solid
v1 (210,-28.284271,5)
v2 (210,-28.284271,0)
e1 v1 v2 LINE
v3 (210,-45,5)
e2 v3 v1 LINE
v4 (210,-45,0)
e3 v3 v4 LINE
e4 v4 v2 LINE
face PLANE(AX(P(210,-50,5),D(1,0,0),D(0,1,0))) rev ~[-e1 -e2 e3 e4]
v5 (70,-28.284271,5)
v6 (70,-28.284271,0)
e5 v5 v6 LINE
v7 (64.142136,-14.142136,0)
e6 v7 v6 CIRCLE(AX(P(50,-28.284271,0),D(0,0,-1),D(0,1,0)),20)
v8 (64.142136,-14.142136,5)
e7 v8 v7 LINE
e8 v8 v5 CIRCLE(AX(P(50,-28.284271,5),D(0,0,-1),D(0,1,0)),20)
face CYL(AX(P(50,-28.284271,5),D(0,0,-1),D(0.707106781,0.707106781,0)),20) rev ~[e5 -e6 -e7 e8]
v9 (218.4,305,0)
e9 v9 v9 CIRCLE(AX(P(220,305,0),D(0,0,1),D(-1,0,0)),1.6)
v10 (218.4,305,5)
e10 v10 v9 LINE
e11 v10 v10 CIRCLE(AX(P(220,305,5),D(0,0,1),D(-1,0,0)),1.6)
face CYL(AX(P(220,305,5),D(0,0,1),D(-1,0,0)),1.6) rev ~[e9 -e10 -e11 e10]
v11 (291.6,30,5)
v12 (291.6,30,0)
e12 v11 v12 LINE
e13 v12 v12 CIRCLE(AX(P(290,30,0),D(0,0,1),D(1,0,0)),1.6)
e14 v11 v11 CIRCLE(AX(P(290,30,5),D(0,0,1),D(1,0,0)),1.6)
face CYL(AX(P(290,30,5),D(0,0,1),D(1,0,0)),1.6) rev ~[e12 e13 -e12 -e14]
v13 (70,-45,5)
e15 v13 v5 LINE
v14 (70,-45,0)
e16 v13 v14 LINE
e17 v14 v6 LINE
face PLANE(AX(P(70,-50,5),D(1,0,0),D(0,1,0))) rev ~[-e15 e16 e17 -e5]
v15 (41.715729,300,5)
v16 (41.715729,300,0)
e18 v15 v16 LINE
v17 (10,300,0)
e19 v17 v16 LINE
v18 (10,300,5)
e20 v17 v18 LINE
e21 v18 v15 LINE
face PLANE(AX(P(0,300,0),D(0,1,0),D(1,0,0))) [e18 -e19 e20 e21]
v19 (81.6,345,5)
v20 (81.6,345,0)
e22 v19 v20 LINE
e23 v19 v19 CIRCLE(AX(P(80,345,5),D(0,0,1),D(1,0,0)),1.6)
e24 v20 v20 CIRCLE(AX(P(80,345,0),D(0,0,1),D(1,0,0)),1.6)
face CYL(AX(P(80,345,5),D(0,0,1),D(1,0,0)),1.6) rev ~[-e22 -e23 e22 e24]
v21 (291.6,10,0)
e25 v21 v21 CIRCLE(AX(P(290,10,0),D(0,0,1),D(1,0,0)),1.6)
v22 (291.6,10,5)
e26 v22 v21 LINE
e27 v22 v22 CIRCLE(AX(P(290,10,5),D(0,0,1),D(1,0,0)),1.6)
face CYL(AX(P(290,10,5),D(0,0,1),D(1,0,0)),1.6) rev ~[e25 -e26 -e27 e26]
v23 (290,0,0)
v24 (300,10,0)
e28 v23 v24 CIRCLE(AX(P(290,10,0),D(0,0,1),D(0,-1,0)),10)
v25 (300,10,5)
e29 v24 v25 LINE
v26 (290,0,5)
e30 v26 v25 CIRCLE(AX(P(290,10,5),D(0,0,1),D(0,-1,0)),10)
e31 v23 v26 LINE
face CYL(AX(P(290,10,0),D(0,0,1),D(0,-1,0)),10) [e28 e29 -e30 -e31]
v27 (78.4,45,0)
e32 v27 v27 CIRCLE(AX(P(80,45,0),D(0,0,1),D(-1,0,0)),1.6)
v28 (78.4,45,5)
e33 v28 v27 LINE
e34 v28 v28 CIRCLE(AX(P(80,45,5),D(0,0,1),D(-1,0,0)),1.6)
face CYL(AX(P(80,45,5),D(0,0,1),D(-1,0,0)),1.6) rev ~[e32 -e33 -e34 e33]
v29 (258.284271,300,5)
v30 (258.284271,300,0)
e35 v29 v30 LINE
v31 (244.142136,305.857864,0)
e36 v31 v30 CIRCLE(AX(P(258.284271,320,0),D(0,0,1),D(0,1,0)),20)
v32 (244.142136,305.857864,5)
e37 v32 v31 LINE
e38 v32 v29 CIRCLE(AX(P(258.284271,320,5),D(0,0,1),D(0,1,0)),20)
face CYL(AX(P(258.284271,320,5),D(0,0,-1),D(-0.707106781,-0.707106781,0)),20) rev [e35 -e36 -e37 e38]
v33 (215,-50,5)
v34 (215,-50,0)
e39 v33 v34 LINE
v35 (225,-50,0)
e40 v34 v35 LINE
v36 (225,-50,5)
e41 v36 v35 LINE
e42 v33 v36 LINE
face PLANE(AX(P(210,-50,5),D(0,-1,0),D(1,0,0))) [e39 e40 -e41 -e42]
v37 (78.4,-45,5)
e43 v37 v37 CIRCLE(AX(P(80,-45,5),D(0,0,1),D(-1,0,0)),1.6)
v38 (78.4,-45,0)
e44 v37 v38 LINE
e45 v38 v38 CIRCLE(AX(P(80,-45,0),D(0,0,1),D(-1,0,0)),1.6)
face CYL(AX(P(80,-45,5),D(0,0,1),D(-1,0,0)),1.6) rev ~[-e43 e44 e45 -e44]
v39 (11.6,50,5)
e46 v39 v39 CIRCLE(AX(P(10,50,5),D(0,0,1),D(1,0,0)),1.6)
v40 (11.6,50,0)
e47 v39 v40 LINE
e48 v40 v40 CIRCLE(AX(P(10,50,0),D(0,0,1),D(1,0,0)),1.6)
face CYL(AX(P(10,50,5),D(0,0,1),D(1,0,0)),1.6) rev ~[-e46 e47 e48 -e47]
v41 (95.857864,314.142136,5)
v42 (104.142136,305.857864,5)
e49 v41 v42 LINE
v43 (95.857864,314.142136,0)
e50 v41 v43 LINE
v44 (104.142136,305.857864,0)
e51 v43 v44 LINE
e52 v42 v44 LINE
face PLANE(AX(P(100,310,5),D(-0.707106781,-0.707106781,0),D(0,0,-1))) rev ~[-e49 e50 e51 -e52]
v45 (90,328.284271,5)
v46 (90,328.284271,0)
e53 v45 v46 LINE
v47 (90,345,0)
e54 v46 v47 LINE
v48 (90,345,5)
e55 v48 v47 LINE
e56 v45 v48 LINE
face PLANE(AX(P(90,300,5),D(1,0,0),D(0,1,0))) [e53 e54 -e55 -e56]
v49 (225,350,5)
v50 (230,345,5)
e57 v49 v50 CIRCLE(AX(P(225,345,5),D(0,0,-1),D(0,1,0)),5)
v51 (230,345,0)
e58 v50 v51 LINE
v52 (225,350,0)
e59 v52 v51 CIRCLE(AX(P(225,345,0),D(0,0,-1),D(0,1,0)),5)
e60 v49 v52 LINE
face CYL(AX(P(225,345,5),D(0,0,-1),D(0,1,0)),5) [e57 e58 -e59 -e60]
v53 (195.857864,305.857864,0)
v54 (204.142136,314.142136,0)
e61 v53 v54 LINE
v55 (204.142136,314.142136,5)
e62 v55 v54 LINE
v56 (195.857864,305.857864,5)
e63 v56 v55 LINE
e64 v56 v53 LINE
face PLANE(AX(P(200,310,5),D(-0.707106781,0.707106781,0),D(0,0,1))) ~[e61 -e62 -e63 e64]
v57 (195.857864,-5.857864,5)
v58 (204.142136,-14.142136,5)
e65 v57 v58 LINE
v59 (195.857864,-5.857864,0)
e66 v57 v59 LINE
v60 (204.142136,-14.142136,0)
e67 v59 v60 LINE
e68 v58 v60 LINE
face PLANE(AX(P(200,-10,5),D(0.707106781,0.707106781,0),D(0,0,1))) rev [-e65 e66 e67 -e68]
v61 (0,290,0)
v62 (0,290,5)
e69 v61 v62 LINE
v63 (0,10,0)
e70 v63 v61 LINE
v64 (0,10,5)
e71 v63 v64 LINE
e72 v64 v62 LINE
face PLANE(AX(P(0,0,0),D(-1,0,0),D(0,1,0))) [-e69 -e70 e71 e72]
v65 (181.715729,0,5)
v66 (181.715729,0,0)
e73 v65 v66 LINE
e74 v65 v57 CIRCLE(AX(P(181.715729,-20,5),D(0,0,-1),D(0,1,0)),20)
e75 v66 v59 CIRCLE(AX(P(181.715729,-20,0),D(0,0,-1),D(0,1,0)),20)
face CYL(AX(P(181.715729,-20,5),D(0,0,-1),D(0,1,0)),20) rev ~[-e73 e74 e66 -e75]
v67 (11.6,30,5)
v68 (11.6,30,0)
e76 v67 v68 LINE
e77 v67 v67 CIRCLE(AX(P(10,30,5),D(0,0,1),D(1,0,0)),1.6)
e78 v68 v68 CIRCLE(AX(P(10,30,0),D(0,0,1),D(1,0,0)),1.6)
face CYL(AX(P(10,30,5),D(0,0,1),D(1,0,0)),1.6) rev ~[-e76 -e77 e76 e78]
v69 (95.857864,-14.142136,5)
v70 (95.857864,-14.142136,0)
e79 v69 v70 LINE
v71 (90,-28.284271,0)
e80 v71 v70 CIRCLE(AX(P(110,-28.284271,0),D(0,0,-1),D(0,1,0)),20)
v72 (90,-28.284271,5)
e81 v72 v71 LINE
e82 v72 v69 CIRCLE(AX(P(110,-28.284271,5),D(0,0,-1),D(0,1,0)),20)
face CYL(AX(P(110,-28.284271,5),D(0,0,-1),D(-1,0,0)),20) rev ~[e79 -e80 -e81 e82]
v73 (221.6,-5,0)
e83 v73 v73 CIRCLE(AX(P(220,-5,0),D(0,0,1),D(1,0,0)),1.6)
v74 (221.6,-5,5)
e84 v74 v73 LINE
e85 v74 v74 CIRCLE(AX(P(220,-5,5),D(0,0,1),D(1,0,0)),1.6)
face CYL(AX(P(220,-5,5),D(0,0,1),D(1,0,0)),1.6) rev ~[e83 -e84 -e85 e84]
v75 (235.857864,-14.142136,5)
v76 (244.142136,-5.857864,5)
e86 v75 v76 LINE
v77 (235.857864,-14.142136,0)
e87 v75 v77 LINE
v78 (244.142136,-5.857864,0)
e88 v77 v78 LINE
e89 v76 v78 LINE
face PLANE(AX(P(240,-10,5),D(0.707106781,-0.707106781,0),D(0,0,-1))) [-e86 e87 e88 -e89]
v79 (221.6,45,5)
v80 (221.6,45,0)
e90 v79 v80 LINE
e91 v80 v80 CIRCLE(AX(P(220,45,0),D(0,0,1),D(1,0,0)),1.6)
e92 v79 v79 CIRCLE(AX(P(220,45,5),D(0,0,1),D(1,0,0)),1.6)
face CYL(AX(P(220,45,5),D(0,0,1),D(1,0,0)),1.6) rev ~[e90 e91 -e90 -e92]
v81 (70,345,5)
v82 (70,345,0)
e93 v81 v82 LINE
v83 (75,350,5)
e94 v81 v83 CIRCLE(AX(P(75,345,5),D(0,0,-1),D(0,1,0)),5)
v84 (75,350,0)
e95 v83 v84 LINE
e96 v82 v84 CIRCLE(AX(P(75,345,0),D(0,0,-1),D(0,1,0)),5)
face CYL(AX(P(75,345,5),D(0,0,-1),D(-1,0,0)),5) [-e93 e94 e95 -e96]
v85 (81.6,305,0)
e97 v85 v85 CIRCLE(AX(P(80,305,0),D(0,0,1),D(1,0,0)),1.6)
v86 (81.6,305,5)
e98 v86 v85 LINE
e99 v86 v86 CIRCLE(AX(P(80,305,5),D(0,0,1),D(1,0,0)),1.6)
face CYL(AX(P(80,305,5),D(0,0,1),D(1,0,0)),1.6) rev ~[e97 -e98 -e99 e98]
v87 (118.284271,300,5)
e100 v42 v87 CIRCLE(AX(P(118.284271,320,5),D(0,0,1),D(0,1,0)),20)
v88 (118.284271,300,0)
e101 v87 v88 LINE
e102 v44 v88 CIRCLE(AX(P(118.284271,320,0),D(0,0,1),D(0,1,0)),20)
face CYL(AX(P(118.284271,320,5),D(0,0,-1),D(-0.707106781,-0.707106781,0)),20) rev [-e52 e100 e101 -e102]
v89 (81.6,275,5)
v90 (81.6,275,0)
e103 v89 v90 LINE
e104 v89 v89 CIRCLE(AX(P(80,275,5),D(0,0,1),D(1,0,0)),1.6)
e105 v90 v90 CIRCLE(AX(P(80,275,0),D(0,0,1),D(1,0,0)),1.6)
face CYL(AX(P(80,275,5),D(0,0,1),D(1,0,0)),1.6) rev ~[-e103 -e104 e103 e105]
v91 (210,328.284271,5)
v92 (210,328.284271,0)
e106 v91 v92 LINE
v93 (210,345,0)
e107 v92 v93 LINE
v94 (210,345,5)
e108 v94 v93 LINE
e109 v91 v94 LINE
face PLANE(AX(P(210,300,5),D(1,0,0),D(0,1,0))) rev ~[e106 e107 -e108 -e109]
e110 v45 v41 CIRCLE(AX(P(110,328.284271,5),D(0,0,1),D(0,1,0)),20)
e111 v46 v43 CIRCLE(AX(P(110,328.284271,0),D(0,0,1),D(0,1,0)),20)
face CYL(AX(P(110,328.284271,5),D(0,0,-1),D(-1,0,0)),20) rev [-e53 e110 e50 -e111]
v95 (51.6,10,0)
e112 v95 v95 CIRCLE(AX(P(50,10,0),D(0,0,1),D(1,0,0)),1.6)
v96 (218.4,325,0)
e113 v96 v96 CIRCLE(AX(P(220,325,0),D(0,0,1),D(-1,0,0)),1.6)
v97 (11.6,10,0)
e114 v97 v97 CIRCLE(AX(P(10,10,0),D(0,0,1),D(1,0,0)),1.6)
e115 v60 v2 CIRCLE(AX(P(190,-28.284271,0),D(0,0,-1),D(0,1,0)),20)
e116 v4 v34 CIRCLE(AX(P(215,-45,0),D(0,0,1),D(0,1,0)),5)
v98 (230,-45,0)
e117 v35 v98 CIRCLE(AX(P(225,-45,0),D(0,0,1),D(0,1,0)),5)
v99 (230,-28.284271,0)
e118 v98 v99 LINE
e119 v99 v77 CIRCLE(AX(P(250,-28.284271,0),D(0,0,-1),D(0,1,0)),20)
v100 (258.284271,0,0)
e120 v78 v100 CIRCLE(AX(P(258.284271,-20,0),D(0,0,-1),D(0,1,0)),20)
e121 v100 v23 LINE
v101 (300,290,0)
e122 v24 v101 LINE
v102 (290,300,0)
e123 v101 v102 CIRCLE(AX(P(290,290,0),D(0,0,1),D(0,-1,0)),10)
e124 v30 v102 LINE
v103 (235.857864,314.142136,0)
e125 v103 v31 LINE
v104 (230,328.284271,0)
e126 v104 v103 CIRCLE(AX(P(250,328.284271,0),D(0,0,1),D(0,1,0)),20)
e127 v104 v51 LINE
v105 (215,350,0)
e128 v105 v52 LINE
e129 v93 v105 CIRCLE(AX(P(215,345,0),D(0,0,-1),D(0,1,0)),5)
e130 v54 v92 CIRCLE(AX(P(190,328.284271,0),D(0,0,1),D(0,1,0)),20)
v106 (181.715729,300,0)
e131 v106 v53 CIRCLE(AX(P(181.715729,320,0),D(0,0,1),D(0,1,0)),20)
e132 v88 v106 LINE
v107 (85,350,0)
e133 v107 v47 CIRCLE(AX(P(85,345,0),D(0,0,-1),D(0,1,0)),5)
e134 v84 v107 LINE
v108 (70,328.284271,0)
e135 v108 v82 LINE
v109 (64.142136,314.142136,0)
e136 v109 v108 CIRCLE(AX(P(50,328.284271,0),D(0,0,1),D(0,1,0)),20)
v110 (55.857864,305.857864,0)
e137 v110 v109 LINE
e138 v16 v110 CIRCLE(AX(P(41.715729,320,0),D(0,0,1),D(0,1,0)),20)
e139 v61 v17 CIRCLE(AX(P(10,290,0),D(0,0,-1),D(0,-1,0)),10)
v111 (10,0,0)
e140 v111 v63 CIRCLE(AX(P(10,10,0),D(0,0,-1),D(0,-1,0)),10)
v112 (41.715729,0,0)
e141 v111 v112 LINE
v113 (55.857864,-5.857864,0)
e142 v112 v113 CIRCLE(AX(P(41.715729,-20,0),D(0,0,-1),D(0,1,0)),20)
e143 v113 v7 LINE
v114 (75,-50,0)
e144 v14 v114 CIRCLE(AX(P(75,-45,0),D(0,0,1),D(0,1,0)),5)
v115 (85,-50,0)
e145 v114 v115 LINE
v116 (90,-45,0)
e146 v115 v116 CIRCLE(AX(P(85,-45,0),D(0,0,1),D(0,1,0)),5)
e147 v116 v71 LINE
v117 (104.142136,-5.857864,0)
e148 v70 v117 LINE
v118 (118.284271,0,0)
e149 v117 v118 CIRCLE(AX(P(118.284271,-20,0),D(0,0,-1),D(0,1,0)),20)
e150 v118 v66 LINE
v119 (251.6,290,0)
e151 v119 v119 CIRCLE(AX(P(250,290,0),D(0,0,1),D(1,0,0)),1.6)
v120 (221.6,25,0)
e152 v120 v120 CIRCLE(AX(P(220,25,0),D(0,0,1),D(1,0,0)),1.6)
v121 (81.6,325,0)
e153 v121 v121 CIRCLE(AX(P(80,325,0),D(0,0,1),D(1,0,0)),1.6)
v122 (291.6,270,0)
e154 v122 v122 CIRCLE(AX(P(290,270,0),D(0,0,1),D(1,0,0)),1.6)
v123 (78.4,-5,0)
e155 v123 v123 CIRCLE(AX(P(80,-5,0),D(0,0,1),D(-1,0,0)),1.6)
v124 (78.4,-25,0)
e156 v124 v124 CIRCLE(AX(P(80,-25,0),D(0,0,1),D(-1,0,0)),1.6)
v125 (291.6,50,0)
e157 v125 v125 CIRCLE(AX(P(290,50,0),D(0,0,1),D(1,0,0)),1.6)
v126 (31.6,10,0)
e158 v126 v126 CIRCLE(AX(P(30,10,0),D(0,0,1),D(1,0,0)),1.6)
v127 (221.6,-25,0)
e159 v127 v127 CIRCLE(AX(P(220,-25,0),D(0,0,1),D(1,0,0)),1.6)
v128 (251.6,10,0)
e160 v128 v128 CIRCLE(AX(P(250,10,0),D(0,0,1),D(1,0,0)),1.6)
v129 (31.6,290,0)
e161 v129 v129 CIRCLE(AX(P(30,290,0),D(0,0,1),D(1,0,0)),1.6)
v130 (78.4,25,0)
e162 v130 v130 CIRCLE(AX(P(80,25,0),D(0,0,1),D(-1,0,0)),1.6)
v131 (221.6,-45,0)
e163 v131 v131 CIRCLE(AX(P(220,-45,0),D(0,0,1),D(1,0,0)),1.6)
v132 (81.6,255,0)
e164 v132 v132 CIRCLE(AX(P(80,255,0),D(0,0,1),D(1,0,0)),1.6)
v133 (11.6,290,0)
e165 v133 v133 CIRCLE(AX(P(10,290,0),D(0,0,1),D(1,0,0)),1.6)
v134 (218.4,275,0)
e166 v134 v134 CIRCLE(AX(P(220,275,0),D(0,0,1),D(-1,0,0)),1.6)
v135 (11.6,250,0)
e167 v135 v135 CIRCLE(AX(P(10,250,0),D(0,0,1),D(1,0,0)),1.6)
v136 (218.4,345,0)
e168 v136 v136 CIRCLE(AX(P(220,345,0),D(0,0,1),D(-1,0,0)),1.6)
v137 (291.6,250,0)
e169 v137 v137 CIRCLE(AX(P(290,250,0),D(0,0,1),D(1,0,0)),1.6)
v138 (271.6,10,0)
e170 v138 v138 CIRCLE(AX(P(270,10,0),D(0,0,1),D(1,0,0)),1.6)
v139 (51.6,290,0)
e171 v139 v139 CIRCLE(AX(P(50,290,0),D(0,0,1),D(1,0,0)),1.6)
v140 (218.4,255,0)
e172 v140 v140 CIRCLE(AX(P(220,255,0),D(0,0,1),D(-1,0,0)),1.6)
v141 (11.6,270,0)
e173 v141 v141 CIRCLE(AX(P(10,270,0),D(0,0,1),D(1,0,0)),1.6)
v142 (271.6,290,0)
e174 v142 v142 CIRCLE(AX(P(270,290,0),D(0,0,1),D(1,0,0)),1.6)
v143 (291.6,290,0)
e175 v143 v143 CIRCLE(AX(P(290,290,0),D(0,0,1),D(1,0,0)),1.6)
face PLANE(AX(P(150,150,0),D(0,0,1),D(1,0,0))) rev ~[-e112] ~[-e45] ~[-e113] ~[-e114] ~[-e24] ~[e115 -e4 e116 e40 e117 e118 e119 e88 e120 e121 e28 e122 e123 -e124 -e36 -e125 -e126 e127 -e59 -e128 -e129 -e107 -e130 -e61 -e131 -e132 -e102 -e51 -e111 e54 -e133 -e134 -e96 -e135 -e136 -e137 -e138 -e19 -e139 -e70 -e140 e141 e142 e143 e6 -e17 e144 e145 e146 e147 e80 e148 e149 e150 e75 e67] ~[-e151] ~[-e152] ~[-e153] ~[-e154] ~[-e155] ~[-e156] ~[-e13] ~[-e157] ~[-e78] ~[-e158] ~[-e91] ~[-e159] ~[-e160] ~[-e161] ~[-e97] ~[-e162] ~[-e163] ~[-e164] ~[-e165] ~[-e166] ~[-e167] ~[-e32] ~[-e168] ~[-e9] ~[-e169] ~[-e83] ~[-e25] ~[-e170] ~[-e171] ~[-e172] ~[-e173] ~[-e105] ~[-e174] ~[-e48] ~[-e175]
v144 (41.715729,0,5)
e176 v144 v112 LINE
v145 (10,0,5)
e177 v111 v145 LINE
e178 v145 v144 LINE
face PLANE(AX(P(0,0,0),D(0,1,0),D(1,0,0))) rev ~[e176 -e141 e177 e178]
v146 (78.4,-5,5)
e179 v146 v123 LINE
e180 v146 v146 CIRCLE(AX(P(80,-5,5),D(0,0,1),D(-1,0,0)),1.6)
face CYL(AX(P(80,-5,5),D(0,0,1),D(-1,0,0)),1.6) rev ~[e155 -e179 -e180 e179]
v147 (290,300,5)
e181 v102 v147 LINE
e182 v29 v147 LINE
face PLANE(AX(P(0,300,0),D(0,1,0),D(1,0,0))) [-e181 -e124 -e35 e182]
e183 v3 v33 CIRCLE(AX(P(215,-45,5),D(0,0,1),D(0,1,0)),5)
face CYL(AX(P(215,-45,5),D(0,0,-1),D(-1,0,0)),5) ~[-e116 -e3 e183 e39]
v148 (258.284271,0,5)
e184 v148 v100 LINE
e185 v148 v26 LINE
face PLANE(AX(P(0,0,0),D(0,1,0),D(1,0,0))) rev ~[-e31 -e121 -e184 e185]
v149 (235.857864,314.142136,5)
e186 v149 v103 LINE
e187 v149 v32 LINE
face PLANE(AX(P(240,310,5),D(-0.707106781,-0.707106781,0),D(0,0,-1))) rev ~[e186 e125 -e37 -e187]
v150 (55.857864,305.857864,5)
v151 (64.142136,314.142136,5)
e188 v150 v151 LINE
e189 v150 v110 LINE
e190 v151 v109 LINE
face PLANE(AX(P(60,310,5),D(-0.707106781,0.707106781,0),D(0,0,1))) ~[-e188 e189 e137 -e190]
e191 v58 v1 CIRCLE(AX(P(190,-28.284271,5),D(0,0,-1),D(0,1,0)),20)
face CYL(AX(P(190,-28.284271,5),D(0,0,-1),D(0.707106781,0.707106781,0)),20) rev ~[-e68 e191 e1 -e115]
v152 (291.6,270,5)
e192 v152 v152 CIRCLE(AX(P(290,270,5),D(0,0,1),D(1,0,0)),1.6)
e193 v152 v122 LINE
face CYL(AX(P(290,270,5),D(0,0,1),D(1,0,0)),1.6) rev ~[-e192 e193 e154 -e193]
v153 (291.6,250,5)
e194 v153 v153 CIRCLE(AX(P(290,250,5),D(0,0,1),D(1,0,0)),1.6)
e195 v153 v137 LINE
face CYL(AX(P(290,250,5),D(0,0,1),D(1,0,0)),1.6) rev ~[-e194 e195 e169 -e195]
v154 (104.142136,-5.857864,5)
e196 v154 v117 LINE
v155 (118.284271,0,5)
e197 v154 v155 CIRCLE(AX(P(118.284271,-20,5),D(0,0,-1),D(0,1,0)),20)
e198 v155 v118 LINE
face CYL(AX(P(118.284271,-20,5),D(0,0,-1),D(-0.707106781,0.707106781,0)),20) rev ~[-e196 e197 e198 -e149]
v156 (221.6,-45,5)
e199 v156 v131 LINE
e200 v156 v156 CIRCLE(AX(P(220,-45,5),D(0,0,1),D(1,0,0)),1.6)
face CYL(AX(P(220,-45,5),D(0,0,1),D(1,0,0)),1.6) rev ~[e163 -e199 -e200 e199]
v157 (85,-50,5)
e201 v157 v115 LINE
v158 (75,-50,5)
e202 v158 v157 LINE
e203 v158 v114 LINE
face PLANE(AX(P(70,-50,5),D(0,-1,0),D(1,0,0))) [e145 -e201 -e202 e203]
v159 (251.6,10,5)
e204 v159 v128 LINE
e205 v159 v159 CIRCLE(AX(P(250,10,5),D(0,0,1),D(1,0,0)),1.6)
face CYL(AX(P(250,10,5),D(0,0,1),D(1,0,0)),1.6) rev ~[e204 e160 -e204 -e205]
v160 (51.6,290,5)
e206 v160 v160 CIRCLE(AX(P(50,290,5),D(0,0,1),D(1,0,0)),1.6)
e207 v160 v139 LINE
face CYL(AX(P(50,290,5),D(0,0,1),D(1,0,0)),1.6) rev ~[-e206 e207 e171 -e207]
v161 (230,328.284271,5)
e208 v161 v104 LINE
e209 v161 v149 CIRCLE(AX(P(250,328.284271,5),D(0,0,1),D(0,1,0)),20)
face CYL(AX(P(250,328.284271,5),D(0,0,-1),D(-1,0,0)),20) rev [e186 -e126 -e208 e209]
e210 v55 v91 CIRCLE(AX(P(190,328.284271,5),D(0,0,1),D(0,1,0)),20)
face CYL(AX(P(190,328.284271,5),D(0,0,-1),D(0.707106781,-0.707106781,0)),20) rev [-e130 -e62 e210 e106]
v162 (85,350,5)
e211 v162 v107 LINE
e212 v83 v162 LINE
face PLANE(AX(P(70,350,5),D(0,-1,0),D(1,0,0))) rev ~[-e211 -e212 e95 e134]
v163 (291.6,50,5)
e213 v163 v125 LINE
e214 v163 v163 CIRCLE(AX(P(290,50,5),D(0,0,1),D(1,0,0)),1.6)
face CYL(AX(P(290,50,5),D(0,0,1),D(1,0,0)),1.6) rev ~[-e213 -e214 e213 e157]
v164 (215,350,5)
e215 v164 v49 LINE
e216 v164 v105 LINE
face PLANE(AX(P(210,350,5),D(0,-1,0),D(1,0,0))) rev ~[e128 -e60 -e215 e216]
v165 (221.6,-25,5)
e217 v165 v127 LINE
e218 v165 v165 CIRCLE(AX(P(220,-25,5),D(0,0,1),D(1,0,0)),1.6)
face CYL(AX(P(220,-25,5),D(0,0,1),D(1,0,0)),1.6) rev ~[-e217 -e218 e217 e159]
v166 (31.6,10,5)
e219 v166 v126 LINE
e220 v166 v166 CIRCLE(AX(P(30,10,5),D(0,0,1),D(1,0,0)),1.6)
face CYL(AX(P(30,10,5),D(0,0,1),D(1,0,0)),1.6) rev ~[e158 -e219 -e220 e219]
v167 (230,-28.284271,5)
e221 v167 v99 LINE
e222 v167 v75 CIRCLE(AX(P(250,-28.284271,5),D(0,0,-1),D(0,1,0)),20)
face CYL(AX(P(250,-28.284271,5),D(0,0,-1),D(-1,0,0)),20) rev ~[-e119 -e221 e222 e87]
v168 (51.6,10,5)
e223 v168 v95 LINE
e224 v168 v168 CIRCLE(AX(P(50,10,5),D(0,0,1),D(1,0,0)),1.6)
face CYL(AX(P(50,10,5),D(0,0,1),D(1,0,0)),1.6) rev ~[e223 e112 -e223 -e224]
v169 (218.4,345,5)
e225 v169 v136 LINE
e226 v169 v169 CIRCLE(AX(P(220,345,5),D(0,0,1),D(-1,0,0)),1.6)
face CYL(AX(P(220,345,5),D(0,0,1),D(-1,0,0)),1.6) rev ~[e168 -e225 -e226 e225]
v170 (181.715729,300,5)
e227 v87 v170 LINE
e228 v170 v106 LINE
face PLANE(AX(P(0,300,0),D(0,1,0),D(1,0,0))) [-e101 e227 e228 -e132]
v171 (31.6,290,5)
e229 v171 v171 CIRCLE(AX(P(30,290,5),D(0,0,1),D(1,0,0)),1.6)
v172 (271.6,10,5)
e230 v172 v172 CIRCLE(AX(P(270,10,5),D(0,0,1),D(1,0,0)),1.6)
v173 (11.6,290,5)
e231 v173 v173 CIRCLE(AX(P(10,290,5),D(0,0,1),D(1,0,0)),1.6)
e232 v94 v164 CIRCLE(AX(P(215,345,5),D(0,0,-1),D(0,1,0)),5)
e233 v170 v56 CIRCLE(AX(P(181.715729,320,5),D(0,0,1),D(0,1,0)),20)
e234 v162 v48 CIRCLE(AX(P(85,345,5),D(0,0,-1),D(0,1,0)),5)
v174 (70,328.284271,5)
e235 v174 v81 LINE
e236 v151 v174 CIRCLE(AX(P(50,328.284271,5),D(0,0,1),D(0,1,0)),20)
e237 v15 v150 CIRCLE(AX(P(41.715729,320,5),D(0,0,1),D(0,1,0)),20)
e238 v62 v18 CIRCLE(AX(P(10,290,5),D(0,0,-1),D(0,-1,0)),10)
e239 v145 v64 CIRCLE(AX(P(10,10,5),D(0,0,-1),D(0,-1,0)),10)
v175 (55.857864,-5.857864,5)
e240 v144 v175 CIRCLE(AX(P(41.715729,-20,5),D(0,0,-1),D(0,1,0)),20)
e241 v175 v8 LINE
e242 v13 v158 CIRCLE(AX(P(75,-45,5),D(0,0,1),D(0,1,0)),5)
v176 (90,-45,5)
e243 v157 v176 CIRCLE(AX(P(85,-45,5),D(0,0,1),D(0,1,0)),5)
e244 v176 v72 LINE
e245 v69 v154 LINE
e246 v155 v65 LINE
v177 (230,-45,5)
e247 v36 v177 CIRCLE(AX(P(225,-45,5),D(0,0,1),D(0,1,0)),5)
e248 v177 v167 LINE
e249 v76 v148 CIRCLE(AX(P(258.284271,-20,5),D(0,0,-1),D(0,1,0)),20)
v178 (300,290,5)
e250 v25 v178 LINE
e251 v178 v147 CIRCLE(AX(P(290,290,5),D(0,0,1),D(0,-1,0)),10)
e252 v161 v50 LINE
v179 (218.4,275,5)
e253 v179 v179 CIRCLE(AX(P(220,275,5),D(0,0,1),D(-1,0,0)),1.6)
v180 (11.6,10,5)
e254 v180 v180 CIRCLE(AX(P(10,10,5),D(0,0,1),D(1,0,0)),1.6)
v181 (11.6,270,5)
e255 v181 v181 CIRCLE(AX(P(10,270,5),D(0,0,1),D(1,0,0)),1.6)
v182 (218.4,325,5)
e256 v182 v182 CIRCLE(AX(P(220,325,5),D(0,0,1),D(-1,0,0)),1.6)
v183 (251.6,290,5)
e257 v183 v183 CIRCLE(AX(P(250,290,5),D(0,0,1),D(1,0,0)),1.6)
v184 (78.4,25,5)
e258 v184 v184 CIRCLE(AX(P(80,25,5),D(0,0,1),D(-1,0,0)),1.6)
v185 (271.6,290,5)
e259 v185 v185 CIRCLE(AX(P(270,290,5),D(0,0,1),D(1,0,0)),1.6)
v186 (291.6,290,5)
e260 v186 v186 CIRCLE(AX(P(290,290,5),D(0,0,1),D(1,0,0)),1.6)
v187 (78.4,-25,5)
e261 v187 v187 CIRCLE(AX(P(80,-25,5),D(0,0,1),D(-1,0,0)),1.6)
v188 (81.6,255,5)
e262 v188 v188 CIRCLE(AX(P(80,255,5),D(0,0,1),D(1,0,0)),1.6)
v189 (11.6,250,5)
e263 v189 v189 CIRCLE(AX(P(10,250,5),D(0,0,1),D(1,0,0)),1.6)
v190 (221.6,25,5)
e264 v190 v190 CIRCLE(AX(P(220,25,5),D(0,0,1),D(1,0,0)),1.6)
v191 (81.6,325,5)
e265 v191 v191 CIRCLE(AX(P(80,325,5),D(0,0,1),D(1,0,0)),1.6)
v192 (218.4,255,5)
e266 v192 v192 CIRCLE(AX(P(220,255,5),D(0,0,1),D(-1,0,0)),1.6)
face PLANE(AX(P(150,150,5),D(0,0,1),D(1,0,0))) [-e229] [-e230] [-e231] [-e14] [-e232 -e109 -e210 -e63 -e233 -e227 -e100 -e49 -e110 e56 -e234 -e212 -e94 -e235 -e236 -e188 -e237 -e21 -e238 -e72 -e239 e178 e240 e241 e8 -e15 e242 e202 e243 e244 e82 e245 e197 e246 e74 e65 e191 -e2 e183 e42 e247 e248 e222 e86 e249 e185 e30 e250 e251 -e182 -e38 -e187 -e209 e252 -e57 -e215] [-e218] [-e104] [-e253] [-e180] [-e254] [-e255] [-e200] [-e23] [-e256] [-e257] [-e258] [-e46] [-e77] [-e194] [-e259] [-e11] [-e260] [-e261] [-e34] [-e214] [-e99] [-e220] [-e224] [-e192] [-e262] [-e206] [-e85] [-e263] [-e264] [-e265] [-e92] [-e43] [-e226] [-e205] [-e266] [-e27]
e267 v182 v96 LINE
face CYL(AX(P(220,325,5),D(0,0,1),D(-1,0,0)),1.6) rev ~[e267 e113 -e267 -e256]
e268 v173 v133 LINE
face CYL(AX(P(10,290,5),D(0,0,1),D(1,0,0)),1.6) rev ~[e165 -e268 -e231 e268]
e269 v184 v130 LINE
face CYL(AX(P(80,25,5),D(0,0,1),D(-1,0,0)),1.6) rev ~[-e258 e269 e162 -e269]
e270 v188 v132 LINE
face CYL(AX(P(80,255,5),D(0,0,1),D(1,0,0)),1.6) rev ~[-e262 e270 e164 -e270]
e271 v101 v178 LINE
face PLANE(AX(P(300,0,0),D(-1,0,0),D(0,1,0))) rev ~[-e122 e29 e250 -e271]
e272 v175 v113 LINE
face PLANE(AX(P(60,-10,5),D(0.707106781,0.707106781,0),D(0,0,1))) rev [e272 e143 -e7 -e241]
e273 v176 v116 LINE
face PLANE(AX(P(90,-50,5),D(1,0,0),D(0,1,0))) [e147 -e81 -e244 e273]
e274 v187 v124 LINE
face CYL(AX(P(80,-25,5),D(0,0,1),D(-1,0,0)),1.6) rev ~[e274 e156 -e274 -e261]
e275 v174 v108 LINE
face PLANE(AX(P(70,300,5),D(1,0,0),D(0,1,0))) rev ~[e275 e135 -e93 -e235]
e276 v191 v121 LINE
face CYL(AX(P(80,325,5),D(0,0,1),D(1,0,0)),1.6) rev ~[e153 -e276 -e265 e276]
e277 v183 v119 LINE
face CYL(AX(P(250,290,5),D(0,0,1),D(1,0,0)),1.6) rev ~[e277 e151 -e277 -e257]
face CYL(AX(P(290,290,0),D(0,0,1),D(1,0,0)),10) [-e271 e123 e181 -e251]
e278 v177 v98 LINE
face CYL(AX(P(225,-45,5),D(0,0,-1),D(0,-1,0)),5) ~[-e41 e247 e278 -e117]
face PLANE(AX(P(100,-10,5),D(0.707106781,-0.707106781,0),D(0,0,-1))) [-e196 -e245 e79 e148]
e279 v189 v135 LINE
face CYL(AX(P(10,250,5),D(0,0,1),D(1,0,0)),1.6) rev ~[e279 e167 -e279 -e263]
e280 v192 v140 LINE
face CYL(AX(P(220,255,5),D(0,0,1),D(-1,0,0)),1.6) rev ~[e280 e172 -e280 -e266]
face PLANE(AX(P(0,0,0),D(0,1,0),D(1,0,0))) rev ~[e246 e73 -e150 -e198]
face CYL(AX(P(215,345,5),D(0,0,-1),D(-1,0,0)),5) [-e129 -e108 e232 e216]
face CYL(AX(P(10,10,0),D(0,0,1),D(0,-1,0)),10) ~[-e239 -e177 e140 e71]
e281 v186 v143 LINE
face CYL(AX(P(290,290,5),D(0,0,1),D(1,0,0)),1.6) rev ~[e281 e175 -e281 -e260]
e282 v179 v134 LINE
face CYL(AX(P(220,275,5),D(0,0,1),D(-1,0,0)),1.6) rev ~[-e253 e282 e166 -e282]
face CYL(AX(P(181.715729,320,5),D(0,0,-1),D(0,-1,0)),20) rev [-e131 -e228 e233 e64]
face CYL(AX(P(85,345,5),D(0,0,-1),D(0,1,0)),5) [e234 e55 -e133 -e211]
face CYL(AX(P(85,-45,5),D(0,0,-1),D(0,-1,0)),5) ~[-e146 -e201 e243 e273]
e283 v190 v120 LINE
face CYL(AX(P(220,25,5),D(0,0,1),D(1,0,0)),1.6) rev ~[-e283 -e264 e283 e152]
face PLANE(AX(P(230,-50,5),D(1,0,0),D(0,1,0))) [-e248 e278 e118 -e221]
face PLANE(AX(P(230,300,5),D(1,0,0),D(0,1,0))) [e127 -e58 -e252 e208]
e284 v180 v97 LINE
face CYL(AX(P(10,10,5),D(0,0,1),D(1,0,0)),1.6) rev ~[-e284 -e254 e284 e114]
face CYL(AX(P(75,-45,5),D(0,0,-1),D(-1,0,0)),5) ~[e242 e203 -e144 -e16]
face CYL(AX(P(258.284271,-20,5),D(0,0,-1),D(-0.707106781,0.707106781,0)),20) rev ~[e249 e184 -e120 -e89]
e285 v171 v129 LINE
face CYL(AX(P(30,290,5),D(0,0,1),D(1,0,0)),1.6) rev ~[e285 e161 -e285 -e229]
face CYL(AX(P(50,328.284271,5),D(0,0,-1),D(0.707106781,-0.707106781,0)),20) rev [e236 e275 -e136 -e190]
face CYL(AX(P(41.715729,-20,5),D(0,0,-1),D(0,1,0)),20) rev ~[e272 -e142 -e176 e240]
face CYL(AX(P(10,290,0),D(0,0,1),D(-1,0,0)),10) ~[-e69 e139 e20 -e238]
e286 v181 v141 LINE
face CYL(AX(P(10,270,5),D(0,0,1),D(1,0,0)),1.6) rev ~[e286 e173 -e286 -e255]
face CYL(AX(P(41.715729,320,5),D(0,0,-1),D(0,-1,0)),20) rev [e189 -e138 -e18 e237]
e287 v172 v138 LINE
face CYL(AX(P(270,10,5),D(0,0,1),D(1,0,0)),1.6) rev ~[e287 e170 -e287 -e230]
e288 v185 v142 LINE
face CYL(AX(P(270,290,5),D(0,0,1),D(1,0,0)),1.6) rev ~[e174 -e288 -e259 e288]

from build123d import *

# Parameters (mm, degrees)
SKETCH_1_W          = 300
SKETCH_1_H          = 300
EXTRUDE_1_DEPTH     = 5
SKETCH_2_R          = 1.6
CUT_EXTRUDE_1_DEPTH = 5
SKETCH_3_W          = 20
SKETCH_3_H          = 50
EXTRUDE_2_DEPTH     = 5
SKETCH_5_R          = 1.6
CUT_EXTRUDE_2_DEPTH = 462.004338374
CHAMFER_1_SIZE      = 20
FILLET_1_R          = 20
FILLET_2_R          = 5
FILLET_3_R          = 10


with BuildPart() as part:
    # 草图1 → 凸台-拉伸1 (new body)
    with BuildSketch(Plane.XY):
        with Locations((150, 150)):
            Rectangle(SKETCH_1_W, SKETCH_1_H)
    extrude(amount=EXTRUDE_1_DEPTH)

    # 草图2 → 切除-拉伸1 (cut)
    with BuildSketch(Plane.XY.offset(5)):
        with Locations((10, 10)):
            Circle(SKETCH_2_R)
        with Locations((290, 10)):
            Circle(SKETCH_2_R)
        with Locations((290, 290)):
            Circle(SKETCH_2_R)
        with Locations((10, 290)):
            Circle(SKETCH_2_R)
        with Locations((10, 270)):
            Circle(SKETCH_2_R)
        with Locations((10, 250)):
            Circle(SKETCH_2_R)
        with Locations((10, 30)):
            Circle(SKETCH_2_R)
        with Locations((10, 50)):
            Circle(SKETCH_2_R)
        with Locations((30, 290)):
            Circle(SKETCH_2_R)
        with Locations((50, 290)):
            Circle(SKETCH_2_R)
        with Locations((270, 290)):
            Circle(SKETCH_2_R)
        with Locations((250, 290)):
            Circle(SKETCH_2_R)
        with Locations((290, 270)):
            Circle(SKETCH_2_R)
        with Locations((290, 250)):
            Circle(SKETCH_2_R)
        with Locations((290, 30)):
            Circle(SKETCH_2_R)
        with Locations((290, 50)):
            Circle(SKETCH_2_R)
        with Locations((270, 10)):
            Circle(SKETCH_2_R)
        with Locations((250, 10)):
            Circle(SKETCH_2_R)
        with Locations((30, 10)):
            Circle(SKETCH_2_R)
        with Locations((50, 10)):
            Circle(SKETCH_2_R)
    extrude(amount=-CUT_EXTRUDE_1_DEPTH, mode=Mode.SUBTRACT)

    # 草图3 → 凸台-拉伸2 (add, through all)
    with BuildSketch(Plane.XY.offset(5)):
        with Locations((80, -25)):
            Rectangle(SKETCH_3_W, SKETCH_3_H)
        with Locations((80, 325)):
            Rectangle(SKETCH_3_W, SKETCH_3_H)
        with Locations((220, 325)):
            Rectangle(SKETCH_3_W, SKETCH_3_H)
        with Locations((220, -25)):
            Rectangle(SKETCH_3_W, SKETCH_3_H)
    extrude(amount=-EXTRUDE_2_DEPTH)

    # 草图5 → 切除-拉伸2 (cut, through all)
    with BuildSketch(Plane.XY.offset(5)):
        with Locations((80, 345)):
            Circle(SKETCH_5_R)
        with Locations((80, 325)):
            Circle(SKETCH_5_R)
        with Locations((80, 305)):
            Circle(SKETCH_5_R)
        with Locations((80, 255)):
            Circle(SKETCH_5_R)
        with Locations((80, 275)):
            Circle(SKETCH_5_R)
        with Locations(Location((80, 25, 0), (0, 0, 180))):
            Circle(SKETCH_5_R)
        with Locations(Location((80, 45, 0), (0, 0, 180))):
            Circle(SKETCH_5_R)
        with Locations(Location((80, -5, 0), (0, 0, 180))):
            Circle(SKETCH_5_R)
        with Locations(Location((80, -25, 0), (0, 0, 180))):
            Circle(SKETCH_5_R)
        with Locations(Location((80, -45, 0), (0, 0, 180))):
            Circle(SKETCH_5_R)
        with Locations((220, -45)):
            Circle(SKETCH_5_R)
        with Locations((220, -25)):
            Circle(SKETCH_5_R)
        with Locations((220, -5)):
            Circle(SKETCH_5_R)
        with Locations((220, 45)):
            Circle(SKETCH_5_R)
        with Locations((220, 25)):
            Circle(SKETCH_5_R)
        with Locations(Location((220, 275, 0), (0, 0, 180))):
            Circle(SKETCH_5_R)
        with Locations(Location((220, 255, 0), (0, 0, 180))):
            Circle(SKETCH_5_R)
        with Locations(Location((220, 305, 0), (0, 0, 180))):
            Circle(SKETCH_5_R)
        with Locations(Location((220, 325, 0), (0, 0, 180))):
            Circle(SKETCH_5_R)
        with Locations(Location((220, 345, 0), (0, 0, 180))):
            Circle(SKETCH_5_R)
    extrude(amount=-CUT_EXTRUDE_2_DEPTH, mode=Mode.SUBTRACT)

    # 倒角1
    chamfer_1_edges = [part.edges().sort_by_distance(p)[0] for p in [
        (210, 0, 2.5),
        (230, 0, 2.5),
        (230, 300, 2.5),
        (210, 300, 2.5),
        (90, 300, 2.5),
        (70, 300, 2.5),
        (70, 0, 2.5),
        (90, 0, 2.5),
    ]]
    chamfer(chamfer_1_edges, length=CHAMFER_1_SIZE)

    # 圆角1
    fillet_1_edges = [part.edges().sort_by_distance(p)[0] for p in [
        (230, -20, 2.5),
        (250, 0, 2.5),
        (110, 0, 2.5),
        (190, 0, 2.5),
        (210, -20, 2.5),
        (90, -20, 2.5),
        (50, 0, 2.5),
        (70, -20, 2.5),
        (250, 300, 2.5),
        (230, 320, 2.5),
        (210, 320, 2.5),
        (110, 300, 2.5),
        (190, 300, 2.5),
        (90, 320, 2.5),
        (70, 320, 2.5),
        (50, 300, 2.5),
    ]]
    fillet(fillet_1_edges, radius=FILLET_1_R)

    # 圆角2
    fillet_2_edges = [part.edges().sort_by_distance(p)[0] for p in [
        (230, -50, 2.5),
        (210, -50, 2.5),
        (230, 350, 2.5),
        (210, 350, 2.5),
        (70, 350, 2.5),
        (90, 350, 2.5),
        (70, -50, 2.5),
        (90, -50, 2.5),
    ]]
    fillet(fillet_2_edges, radius=FILLET_2_R)

    # 圆角3
    fillet_3_edges = [part.edges().sort_by_distance(p)[0] for p in [
        (0, 300, 2.5),
        (300, 300, 2.5),
        (300, 0, 2.5),
        (0, 0, 2.5),
    ]]
    fillet(fillet_3_edges, radius=FILLET_3_R)


solid = part.part
